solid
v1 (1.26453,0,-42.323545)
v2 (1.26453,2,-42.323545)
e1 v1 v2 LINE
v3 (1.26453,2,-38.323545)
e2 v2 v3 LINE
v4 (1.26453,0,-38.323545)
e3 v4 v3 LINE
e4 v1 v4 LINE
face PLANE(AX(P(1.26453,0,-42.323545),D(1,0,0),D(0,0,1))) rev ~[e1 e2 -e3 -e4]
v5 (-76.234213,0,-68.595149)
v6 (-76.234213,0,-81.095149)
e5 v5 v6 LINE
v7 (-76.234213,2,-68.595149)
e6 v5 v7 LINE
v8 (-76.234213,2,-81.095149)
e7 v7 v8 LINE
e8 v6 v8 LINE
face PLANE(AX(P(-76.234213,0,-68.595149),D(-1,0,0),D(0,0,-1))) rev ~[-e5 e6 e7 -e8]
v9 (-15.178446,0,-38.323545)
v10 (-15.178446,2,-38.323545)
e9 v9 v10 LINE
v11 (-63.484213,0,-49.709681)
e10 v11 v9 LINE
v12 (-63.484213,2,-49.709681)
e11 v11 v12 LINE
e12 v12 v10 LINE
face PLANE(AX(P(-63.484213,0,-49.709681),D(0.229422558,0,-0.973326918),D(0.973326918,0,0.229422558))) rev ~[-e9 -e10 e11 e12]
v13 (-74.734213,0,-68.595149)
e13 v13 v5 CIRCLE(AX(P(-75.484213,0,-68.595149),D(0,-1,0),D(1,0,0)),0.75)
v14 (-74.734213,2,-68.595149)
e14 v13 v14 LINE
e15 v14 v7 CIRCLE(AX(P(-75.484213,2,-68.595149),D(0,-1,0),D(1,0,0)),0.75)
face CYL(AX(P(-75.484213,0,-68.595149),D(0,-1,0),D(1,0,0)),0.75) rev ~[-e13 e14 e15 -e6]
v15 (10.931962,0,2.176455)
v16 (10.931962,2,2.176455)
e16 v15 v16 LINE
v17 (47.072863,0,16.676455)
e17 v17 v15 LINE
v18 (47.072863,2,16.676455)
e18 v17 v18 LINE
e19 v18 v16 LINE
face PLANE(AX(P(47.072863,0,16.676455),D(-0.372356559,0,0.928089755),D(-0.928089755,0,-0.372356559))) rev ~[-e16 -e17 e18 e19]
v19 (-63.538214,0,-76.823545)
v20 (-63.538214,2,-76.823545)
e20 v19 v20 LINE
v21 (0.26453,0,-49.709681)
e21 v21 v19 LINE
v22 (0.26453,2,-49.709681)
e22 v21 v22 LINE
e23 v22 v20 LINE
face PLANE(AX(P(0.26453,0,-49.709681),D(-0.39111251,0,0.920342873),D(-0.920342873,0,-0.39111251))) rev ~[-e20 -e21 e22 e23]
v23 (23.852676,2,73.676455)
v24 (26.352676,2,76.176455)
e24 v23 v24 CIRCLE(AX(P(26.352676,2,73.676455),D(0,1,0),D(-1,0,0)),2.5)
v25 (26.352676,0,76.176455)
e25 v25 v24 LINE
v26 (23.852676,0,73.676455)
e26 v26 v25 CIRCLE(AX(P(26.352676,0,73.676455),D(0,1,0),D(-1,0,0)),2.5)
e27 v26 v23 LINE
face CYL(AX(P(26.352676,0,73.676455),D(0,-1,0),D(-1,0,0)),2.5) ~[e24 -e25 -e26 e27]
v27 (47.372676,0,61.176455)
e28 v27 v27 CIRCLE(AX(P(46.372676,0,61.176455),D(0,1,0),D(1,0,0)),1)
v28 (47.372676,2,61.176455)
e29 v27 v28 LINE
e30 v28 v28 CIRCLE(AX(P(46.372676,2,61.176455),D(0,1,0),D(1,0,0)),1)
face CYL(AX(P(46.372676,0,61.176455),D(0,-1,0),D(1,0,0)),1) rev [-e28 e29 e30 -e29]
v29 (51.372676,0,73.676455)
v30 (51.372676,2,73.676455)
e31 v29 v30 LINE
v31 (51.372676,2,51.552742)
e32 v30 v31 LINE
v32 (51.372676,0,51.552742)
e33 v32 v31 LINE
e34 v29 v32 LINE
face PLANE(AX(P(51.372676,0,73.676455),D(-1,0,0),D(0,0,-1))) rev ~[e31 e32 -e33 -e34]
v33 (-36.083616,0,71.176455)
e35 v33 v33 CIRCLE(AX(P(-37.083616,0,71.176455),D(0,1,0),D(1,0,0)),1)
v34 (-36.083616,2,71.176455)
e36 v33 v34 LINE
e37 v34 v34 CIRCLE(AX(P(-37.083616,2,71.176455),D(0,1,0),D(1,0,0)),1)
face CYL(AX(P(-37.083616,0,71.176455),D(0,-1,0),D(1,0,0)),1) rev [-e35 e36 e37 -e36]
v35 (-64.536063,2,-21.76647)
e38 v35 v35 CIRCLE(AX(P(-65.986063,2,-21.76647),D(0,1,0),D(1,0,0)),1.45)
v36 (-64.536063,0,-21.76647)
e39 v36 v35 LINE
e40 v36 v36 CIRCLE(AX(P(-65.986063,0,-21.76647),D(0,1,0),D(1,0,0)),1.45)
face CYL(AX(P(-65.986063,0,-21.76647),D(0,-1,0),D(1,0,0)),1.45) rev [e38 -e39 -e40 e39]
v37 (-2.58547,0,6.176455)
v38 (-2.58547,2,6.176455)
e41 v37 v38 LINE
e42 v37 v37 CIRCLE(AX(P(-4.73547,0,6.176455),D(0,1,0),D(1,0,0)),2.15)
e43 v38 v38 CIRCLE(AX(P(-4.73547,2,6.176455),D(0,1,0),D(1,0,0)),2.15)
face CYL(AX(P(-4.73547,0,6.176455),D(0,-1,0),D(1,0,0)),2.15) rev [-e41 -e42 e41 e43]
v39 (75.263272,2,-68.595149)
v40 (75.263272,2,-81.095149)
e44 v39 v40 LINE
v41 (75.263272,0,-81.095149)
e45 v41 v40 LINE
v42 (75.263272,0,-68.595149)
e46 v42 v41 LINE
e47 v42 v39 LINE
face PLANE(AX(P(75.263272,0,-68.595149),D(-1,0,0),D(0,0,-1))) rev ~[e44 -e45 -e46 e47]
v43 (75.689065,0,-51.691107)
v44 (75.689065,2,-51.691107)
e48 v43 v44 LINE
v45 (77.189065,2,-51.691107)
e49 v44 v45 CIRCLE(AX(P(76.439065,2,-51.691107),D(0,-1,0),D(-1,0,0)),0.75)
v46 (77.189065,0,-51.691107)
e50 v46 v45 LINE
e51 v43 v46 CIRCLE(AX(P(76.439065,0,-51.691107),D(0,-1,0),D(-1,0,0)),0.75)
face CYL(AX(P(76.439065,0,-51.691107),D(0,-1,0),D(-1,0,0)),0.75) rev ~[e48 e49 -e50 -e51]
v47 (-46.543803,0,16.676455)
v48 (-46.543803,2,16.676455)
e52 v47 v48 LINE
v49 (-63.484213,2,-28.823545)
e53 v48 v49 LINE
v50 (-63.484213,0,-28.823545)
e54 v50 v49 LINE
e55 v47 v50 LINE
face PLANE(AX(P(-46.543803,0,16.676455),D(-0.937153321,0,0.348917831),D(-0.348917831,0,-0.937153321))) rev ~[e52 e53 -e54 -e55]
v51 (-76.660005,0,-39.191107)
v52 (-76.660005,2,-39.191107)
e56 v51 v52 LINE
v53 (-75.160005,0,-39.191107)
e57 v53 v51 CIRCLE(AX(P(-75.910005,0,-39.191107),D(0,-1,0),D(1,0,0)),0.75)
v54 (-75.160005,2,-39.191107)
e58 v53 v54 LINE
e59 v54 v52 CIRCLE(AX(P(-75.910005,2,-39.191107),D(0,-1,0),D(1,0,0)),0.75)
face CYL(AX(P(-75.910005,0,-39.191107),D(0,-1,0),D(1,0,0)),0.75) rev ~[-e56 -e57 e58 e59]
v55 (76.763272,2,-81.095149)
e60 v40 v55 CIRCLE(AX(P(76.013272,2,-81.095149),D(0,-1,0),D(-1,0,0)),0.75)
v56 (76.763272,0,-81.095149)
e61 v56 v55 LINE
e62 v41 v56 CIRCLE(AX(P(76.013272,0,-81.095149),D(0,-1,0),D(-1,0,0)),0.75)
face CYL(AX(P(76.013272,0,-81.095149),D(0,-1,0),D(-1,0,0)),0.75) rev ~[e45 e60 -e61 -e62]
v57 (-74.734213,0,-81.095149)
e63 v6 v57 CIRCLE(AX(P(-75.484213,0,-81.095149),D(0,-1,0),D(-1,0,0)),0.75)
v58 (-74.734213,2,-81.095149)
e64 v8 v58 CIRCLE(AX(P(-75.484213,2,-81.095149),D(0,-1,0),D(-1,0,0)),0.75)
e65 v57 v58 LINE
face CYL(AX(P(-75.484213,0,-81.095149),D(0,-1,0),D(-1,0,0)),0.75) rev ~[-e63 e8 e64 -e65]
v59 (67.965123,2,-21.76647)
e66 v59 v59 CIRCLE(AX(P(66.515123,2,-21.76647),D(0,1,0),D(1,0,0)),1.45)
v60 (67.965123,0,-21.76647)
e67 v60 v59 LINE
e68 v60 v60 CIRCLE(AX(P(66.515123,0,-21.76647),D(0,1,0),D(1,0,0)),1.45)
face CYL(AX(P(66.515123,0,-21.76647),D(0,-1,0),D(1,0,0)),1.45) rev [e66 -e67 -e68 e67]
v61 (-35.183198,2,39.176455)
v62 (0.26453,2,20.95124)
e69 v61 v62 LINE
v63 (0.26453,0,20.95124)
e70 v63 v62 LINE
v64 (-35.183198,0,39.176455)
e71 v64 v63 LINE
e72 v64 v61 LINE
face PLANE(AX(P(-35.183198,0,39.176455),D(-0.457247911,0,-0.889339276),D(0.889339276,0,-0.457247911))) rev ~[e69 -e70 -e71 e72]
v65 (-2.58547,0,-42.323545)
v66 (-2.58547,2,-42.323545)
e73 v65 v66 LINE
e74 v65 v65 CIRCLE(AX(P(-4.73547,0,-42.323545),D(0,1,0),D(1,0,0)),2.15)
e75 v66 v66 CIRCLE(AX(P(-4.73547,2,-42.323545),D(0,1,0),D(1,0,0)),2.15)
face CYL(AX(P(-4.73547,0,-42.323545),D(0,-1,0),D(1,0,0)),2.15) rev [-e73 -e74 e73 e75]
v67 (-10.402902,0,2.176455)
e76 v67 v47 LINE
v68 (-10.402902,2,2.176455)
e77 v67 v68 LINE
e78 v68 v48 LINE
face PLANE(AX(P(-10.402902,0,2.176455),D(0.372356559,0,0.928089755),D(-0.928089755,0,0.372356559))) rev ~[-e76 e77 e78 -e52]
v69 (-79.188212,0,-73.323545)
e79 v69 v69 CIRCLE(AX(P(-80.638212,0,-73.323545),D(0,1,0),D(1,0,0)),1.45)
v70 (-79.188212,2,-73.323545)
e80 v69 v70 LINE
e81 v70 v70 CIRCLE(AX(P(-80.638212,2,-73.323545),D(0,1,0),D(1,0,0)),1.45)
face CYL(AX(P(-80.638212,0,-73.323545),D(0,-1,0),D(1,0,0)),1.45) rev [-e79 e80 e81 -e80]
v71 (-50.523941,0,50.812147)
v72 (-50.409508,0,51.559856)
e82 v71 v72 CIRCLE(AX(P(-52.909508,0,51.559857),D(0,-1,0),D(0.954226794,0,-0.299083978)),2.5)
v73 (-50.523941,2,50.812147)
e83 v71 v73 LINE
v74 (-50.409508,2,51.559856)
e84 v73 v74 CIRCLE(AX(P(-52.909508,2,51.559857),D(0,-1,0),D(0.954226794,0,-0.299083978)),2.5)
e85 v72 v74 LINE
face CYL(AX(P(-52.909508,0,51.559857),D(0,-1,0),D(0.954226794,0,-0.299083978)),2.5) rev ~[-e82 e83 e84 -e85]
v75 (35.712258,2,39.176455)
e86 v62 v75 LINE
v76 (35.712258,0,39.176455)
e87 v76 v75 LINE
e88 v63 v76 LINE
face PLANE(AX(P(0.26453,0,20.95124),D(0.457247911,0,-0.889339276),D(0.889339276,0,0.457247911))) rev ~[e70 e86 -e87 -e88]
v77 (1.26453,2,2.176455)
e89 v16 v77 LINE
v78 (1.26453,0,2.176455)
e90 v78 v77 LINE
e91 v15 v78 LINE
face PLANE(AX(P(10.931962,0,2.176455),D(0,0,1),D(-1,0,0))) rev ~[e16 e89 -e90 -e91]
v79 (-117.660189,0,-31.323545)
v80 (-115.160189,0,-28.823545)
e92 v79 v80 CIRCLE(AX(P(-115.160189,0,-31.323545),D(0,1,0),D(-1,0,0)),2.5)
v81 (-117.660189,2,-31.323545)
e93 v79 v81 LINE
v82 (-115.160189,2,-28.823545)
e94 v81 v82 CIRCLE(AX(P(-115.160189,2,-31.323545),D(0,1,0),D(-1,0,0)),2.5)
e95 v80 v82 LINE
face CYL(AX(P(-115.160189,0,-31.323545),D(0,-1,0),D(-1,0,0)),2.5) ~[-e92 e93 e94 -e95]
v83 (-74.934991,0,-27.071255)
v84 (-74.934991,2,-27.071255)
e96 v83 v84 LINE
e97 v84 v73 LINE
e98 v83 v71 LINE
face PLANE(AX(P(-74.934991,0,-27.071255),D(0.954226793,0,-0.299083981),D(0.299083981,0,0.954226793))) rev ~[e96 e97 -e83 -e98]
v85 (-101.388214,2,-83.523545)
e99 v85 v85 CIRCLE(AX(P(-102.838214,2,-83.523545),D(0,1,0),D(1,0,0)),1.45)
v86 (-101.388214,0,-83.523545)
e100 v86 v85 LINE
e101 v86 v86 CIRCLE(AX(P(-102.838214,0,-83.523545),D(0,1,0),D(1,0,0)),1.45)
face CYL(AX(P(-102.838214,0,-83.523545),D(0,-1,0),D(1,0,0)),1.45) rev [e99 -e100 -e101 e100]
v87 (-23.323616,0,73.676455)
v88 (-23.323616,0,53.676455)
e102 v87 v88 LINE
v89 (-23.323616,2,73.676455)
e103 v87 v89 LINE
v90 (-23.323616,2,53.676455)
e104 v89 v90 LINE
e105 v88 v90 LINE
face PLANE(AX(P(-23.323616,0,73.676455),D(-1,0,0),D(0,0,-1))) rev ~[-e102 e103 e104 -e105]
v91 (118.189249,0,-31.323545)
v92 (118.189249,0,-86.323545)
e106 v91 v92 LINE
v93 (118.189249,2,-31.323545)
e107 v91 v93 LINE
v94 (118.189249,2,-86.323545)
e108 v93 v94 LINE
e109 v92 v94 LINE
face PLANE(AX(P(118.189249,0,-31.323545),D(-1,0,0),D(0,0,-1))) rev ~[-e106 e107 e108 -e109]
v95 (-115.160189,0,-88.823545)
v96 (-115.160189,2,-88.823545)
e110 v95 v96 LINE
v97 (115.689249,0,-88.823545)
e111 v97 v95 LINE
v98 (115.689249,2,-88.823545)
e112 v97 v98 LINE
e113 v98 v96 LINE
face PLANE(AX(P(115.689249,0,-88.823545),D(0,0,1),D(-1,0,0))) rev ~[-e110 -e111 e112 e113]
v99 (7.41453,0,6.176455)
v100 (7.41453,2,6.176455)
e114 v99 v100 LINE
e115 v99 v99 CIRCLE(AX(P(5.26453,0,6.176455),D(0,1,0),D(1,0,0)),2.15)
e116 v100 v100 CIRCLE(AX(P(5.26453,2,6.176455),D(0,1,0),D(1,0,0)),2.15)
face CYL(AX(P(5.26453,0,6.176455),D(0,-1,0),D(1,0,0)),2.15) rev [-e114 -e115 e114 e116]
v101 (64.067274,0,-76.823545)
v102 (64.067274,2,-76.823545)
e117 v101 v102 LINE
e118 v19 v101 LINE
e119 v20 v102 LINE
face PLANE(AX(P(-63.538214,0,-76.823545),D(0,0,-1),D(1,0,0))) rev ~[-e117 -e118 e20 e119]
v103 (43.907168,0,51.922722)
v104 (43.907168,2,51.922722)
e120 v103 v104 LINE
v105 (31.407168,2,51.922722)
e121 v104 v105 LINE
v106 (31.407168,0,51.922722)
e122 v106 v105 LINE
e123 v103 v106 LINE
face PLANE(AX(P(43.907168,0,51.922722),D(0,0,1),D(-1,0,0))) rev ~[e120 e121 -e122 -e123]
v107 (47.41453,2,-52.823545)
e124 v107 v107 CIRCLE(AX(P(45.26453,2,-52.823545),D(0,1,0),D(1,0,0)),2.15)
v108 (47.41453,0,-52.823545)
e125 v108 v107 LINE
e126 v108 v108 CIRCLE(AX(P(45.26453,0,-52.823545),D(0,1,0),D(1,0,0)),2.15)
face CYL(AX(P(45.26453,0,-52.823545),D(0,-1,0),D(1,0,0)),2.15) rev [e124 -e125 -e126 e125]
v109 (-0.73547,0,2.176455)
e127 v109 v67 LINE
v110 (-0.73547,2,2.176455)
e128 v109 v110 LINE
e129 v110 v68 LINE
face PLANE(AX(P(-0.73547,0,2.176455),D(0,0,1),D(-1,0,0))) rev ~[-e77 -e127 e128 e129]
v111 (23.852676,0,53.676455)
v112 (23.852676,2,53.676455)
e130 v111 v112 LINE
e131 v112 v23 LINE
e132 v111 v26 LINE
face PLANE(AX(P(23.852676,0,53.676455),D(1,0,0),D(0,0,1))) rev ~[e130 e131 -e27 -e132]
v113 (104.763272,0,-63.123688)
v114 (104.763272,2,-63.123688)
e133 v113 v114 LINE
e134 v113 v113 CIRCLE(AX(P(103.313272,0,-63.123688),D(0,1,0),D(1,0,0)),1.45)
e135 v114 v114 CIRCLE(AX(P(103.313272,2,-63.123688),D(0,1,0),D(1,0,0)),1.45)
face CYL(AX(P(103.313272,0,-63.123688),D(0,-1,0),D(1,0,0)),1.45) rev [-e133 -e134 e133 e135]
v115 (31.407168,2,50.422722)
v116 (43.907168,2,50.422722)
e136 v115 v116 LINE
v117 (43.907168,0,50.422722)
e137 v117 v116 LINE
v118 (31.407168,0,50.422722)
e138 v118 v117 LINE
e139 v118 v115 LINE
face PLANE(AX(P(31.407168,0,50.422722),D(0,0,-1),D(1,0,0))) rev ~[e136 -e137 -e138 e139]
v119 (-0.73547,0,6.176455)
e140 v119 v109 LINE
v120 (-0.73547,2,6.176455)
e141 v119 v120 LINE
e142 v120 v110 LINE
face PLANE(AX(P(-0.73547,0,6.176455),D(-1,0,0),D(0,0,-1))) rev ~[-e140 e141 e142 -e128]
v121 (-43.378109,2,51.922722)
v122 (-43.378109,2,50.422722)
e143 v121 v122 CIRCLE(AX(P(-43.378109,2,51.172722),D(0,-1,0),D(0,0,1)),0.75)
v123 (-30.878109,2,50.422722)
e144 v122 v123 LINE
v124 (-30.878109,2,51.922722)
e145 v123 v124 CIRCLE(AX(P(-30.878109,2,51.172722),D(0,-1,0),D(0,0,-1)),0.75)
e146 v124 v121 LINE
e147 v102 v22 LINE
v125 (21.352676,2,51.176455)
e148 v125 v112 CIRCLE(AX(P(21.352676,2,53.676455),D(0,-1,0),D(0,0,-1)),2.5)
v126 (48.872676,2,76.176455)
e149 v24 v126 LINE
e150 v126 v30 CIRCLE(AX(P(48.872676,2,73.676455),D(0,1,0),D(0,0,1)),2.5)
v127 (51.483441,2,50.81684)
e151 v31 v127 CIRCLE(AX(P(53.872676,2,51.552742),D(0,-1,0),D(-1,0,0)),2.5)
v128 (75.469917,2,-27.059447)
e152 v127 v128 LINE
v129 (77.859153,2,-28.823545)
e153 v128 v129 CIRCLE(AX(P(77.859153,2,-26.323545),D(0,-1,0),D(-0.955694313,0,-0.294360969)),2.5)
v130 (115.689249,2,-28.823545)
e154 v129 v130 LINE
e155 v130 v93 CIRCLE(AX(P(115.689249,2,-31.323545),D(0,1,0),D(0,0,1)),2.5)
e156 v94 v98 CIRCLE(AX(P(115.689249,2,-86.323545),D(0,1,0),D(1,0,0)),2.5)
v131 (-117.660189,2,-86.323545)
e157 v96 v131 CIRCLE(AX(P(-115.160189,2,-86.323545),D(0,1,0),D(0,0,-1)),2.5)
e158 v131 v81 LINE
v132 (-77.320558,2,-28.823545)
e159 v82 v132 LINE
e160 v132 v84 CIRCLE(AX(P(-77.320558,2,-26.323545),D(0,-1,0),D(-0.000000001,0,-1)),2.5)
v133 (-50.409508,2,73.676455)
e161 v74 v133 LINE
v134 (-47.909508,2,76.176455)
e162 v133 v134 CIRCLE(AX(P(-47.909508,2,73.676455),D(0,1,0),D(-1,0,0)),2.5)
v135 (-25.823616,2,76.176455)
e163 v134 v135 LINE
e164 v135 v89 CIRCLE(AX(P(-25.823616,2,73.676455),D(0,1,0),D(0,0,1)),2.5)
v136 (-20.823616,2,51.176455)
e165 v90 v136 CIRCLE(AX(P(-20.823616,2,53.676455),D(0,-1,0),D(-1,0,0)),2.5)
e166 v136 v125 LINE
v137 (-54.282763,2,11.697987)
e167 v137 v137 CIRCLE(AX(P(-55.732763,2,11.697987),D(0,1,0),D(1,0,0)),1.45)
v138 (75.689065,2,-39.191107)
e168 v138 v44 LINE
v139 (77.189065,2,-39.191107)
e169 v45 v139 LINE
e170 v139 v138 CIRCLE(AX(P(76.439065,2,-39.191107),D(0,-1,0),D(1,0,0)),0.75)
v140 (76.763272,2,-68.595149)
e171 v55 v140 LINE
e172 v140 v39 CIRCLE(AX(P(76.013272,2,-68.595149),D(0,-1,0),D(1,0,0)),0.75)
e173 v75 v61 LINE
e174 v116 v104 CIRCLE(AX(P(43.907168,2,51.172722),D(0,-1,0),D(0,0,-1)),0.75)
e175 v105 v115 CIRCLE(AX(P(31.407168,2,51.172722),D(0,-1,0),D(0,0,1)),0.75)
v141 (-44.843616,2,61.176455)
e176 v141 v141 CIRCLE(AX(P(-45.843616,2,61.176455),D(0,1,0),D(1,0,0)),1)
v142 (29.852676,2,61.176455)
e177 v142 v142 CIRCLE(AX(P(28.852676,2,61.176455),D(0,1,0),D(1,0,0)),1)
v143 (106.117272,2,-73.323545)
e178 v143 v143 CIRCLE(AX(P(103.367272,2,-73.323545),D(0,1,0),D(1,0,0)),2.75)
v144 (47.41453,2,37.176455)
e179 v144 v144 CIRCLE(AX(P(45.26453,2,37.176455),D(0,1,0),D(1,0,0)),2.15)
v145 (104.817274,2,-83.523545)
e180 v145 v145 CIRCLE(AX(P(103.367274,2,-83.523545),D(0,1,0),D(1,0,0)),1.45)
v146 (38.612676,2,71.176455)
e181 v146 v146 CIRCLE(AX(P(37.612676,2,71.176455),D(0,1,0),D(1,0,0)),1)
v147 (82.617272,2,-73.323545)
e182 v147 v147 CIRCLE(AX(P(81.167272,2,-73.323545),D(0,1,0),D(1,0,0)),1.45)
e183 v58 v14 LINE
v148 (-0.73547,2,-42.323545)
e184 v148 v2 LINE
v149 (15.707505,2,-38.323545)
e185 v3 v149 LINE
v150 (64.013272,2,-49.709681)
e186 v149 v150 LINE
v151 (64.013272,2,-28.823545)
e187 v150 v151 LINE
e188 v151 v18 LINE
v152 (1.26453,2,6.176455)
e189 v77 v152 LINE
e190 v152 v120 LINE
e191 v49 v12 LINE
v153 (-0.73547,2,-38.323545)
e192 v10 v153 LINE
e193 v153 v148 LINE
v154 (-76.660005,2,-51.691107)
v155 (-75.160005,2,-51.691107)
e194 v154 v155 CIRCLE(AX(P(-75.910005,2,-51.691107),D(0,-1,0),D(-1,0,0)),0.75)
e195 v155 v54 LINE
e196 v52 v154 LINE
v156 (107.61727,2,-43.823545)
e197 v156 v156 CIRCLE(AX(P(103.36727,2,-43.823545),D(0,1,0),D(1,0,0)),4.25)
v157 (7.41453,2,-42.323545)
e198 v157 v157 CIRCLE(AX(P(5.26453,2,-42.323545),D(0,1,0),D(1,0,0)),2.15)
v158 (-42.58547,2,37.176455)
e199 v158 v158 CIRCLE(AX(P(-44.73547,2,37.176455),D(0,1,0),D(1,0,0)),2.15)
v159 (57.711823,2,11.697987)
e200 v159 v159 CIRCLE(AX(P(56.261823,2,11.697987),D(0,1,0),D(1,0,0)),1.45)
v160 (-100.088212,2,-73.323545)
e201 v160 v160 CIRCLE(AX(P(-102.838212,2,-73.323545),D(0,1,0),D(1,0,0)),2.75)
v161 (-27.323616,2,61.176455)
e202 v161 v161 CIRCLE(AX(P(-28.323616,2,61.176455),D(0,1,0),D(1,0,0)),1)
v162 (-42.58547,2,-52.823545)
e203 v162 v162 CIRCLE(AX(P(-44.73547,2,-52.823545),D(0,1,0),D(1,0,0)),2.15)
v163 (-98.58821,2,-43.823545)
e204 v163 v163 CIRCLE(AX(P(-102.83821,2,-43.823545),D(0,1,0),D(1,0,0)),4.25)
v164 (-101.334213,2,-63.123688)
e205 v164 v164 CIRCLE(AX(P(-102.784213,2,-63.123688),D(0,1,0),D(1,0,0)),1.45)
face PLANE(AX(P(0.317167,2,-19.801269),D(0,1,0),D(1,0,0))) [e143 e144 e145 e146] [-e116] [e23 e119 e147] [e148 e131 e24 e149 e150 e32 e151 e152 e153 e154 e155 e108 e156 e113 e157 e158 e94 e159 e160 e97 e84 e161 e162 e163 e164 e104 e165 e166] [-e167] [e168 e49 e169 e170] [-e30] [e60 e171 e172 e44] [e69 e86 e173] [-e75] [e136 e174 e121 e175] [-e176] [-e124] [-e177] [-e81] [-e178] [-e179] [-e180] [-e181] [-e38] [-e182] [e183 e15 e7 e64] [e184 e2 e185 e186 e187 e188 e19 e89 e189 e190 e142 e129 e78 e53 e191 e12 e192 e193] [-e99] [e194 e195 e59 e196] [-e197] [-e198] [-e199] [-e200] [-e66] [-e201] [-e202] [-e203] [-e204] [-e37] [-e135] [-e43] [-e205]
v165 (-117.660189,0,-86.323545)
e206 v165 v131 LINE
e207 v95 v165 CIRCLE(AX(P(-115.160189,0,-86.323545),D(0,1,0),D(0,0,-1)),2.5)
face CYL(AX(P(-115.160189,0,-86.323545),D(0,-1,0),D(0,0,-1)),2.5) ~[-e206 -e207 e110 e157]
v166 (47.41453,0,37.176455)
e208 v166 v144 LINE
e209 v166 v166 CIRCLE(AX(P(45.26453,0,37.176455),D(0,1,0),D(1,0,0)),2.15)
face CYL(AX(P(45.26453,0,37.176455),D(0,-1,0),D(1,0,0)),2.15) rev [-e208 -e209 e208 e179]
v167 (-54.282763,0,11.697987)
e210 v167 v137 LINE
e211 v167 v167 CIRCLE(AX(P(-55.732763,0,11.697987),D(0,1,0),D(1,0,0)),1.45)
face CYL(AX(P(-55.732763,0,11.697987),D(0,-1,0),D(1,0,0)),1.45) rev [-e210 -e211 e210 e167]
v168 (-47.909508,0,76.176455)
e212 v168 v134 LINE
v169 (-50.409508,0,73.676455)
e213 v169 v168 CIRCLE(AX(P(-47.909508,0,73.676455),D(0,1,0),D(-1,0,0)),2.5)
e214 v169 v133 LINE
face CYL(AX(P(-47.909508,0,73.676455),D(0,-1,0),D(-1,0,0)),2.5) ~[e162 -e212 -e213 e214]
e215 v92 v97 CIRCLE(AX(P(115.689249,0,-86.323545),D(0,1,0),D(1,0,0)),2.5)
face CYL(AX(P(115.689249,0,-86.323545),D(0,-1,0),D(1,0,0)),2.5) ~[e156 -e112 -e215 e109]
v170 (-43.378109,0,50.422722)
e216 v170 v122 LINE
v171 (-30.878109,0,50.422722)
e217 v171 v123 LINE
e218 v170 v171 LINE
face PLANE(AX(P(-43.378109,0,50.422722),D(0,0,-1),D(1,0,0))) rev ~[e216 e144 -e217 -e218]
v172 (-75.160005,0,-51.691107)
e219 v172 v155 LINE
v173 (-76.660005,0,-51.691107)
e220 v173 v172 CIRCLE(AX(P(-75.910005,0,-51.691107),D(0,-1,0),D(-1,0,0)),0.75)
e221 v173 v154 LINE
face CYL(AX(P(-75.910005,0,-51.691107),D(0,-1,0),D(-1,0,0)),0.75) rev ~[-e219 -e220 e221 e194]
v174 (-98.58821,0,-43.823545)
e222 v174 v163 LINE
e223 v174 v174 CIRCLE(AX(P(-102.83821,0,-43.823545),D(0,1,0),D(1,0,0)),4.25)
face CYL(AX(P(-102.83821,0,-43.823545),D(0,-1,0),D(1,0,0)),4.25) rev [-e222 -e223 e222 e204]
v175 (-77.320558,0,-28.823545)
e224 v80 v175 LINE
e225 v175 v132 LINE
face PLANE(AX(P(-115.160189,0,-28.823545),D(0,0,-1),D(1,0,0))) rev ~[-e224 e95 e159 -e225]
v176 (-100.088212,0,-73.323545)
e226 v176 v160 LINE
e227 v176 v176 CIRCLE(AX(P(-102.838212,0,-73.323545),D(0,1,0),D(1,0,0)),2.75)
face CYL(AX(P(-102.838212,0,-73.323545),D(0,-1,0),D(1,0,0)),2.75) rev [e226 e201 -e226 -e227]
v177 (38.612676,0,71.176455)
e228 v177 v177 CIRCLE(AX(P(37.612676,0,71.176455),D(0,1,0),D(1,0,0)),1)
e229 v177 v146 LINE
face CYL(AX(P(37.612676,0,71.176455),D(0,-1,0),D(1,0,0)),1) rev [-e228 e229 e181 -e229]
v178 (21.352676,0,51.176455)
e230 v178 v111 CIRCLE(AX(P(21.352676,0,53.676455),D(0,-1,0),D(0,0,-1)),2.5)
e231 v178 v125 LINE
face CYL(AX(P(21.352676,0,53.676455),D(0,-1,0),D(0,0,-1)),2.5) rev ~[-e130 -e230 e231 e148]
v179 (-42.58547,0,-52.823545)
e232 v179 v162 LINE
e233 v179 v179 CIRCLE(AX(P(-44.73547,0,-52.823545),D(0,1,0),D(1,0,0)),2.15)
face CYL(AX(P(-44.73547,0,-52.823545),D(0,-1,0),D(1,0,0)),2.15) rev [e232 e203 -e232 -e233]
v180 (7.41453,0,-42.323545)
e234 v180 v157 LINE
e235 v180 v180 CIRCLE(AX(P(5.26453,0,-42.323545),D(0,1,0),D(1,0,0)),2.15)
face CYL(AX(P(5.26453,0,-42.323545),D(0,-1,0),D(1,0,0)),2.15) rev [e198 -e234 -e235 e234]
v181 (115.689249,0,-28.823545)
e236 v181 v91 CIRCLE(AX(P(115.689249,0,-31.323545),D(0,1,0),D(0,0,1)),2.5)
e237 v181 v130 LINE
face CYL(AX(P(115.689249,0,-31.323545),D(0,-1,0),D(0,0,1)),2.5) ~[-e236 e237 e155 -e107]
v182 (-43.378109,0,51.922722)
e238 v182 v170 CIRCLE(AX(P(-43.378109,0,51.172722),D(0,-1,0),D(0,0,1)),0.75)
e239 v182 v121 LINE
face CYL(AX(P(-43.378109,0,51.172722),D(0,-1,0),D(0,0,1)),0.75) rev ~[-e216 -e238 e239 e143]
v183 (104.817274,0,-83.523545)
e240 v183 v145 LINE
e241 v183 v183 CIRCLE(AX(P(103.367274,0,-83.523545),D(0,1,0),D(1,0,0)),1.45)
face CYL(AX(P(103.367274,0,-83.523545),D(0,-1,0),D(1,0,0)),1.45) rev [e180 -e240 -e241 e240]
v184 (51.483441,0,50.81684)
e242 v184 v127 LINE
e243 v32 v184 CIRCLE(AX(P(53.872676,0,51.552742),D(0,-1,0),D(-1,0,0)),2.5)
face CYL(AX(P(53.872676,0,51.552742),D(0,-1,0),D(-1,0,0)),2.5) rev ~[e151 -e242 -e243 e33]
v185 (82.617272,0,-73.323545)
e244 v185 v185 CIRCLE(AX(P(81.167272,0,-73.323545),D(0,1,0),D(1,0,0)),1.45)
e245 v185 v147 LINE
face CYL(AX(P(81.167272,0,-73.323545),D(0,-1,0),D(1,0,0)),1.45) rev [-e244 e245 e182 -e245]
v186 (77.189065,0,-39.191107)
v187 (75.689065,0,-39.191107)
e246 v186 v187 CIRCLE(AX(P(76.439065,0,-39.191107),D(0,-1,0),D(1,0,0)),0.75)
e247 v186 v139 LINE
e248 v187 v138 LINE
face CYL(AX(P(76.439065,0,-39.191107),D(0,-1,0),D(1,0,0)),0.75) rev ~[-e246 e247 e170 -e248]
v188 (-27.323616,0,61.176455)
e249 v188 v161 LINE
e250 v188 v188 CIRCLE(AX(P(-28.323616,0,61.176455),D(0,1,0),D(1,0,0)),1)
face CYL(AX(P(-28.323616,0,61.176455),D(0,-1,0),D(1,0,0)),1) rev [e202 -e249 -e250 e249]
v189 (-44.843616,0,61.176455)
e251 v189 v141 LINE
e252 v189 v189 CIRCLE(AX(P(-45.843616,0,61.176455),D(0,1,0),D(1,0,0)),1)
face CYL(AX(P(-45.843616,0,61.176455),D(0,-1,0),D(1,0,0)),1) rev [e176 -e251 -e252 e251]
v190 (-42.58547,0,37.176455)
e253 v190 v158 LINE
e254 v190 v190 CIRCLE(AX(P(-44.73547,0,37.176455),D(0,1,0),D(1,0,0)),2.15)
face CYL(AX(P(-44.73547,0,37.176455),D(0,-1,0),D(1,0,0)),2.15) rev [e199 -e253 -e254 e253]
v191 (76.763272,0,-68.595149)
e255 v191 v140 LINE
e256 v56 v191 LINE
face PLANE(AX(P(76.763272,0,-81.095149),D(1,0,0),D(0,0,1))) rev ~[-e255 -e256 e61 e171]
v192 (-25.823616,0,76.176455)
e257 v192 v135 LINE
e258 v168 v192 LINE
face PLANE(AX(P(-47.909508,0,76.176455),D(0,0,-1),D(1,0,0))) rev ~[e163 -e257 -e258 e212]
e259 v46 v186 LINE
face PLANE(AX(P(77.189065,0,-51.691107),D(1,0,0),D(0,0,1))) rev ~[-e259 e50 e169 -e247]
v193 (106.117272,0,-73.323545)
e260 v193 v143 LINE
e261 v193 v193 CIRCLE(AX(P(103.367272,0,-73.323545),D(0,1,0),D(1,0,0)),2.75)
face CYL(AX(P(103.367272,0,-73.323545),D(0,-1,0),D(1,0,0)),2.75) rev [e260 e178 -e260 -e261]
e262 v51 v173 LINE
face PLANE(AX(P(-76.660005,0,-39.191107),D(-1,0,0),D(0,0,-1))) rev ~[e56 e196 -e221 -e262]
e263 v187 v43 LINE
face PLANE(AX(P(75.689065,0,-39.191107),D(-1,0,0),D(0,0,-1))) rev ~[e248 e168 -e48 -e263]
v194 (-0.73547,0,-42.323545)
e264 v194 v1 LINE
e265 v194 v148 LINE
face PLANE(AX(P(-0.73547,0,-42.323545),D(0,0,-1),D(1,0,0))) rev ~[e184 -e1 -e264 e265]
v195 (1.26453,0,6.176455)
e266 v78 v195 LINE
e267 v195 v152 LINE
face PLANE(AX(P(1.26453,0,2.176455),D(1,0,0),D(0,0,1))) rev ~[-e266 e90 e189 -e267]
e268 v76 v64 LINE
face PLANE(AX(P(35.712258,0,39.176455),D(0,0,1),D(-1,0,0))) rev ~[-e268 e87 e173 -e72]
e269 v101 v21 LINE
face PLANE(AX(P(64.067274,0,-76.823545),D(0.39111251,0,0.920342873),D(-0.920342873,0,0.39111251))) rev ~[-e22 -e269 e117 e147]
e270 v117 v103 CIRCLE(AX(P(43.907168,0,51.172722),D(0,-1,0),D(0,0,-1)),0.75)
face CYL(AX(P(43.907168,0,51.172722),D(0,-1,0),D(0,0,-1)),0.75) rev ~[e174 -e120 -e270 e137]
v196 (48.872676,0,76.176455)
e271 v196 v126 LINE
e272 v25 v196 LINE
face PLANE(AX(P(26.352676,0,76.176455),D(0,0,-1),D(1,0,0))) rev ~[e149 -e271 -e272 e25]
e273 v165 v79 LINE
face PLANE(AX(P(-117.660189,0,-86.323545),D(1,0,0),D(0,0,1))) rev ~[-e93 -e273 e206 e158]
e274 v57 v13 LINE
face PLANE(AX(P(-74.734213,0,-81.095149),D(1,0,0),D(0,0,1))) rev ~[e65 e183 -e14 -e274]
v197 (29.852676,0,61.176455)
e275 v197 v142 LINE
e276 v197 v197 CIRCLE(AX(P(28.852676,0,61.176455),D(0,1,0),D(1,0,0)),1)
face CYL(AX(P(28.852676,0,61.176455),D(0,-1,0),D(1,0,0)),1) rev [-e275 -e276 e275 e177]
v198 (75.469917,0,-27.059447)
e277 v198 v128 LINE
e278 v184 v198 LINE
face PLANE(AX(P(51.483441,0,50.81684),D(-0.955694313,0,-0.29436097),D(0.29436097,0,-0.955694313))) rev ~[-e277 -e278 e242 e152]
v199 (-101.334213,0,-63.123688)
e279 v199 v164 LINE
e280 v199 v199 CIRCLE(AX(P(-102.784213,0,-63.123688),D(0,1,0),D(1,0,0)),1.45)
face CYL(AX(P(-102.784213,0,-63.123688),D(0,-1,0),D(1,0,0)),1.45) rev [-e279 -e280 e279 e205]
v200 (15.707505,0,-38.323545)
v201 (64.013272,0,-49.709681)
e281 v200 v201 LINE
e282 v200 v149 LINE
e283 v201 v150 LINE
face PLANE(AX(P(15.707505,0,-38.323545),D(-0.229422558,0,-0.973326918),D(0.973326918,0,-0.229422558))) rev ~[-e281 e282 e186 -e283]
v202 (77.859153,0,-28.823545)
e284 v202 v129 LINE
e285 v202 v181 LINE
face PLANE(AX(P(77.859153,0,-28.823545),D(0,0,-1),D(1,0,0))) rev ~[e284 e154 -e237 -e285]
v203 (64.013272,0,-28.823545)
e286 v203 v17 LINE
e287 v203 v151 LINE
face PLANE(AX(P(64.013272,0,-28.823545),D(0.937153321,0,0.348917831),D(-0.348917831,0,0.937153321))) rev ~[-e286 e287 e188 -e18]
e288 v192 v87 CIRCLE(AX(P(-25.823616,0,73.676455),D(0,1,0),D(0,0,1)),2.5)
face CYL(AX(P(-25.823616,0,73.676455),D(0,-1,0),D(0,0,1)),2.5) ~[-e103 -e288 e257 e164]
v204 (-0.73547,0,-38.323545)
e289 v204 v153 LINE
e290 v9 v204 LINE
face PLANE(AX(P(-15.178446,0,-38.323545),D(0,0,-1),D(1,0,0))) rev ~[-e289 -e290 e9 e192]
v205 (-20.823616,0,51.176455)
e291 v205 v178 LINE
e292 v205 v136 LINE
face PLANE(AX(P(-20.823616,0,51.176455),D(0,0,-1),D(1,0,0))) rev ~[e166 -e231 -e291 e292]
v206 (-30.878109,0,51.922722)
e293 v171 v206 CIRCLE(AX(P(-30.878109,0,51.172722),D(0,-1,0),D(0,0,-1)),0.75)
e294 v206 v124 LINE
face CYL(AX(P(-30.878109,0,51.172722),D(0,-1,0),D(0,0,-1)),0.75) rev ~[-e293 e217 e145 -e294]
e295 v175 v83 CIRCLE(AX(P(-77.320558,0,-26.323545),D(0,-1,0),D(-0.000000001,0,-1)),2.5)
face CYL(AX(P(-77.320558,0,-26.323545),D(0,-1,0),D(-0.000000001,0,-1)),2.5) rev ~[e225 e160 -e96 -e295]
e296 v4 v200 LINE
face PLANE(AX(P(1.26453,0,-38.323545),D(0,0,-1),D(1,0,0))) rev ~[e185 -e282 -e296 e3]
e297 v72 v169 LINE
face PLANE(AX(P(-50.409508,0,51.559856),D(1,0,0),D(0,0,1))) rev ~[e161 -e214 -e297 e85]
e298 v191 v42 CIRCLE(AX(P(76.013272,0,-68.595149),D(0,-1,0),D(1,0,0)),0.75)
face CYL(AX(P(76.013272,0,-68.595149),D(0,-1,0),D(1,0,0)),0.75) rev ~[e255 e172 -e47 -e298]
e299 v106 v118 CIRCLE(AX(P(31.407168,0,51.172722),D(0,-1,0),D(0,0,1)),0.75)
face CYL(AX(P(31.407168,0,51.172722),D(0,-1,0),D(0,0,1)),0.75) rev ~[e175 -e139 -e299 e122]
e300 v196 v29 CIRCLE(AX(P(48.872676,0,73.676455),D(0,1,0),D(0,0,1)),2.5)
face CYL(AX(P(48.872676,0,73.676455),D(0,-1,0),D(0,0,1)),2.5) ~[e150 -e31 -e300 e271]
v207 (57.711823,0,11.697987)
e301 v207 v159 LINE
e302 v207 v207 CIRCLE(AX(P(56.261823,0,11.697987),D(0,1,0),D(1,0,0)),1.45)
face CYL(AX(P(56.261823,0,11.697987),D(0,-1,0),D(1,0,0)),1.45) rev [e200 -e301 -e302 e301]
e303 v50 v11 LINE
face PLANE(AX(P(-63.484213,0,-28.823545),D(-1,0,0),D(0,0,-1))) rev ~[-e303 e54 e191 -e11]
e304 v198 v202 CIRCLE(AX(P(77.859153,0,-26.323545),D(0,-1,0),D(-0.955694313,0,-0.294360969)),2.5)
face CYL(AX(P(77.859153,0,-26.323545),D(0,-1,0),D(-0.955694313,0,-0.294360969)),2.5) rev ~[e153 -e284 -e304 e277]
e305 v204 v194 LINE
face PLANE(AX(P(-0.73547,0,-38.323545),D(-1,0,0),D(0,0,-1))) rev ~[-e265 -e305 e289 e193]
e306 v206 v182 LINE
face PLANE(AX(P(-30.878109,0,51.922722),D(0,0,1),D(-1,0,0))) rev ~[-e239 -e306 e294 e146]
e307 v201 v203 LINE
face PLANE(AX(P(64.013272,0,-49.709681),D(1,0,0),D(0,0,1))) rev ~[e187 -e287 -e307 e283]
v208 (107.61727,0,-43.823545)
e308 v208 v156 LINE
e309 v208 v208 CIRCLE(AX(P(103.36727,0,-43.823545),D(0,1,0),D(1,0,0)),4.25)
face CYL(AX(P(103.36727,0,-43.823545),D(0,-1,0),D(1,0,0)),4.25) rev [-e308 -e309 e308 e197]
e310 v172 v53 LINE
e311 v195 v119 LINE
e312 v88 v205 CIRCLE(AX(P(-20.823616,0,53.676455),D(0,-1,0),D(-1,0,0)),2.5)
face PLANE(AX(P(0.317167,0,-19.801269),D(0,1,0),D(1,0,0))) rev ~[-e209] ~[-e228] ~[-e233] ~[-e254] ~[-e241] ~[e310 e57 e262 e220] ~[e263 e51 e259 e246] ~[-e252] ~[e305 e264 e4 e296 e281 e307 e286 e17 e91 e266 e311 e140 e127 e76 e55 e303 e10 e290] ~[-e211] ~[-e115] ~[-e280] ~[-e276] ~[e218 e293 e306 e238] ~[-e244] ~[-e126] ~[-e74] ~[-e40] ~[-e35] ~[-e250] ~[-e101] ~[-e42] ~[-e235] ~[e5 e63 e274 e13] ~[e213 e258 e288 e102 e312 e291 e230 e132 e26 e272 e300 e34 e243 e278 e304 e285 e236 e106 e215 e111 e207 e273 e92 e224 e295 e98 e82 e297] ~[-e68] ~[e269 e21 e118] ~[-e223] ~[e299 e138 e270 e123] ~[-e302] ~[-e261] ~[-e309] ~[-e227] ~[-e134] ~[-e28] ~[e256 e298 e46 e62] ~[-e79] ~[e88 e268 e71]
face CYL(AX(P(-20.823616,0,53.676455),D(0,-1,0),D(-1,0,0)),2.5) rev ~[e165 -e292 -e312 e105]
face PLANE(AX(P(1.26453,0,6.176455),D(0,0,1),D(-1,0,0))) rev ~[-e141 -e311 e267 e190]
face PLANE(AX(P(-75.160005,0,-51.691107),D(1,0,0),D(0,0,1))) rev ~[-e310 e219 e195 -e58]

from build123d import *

# Parameters (mm, degrees)
SKETCH26_R          = 1
SKETCH26_R_2        = 2.15
SKETCH26_R_3        = 1.45
SKETCH26_R_4        = 4.25
SKETCH26_R_5        = 2.75
BOSS_EXTRUDE4_DEPTH = 2


with BuildPart() as part:
    # Sketch26 → Boss-Extrude4 (new body)
    with BuildSketch(Plane(origin=(0, 0, 0), x_dir=(1, 0, 0), z_dir=(0, 1, 0))):
        with BuildLine():
            Line((-20.823616498, -51.176455051), (21.352676296, -51.176455051))
            ThreePointArc((21.352676296, -51.176455051), (23.120443249, -51.908688098), (23.852676296, -53.676455051))
            Line((23.852676296, -53.676455051), (23.852676296, -73.676455051))
            ThreePointArc((23.852676296, -73.676455051), (24.584909343, -75.444222004), (26.352676296, -76.176455051))
            Line((26.352676296, -76.176455051), (48.872676296, -76.176455051))
            ThreePointArc((48.872676296, -76.176455051), (50.640443249, -75.444222004), (51.372676296, -73.676455051))
            Line((51.372676296, -73.676455051), (51.372676296, -51.552742091))
            ThreePointArc((51.372676296, -51.552742091), (51.400522432, -51.180646307), (51.483440514, -50.816839667))
            Line((51.483440514, -50.816839667), (75.469917209, 27.059447373))
            ThreePointArc((75.469917209, 27.059447373), (76.374187682, 28.334733163), (77.859152991, 28.823544949))
            Line((77.859152991, 28.823544949), (115.689249226, 28.823544949))
            ThreePointArc((115.689249226, 28.823544949), (117.457016179, 29.555777996), (118.189249226, 31.323544949))
            Line((118.189249226, 31.323544949), (118.189249226, 86.323544949))
            ThreePointArc((118.189249226, 86.323544949), (117.457016179, 88.091311902), (115.689249226, 88.823544949))
            Line((115.689249226, 88.823544949), (76.013272408, 88.823544949))
            Line((76.013272408, 88.823544949), (-75.48421261, 88.823544949))
            Line((-75.48421261, 88.823544949), (-76.032763958, 88.823544949))
            Line((-76.032763958, 88.823544949), (-115.160189428, 88.823544949))
            ThreePointArc((-115.160189428, 88.823544949), (-116.927956381, 88.091311902), (-117.660189428, 86.323544949))
            Line((-117.660189428, 86.323544949), (-117.660189428, 31.323544949))
            ThreePointArc((-117.660189428, 31.323544949), (-116.927956381, 29.555777996), (-115.160189428, 28.823544949))
            Line((-115.160189428, 28.823544949), (-77.320558078, 28.823544949))
            ThreePointArc((-77.320558078, 28.823544949), (-75.840570727, 28.338399148), (-74.934991096, 27.071254903))
            Line((-74.934991096, 27.071254903), (-50.523941264, -50.812146542))
            ThreePointArc((-50.523941264, -50.812146542), (-50.438282088, -51.18164852), (-50.409508246, -51.559856495))
            Line((-50.409508246, -51.559856495), (-50.409508246, -73.676455051))
            ThreePointArc((-50.409508246, -73.676455051), (-49.677275199, -75.444222004), (-47.909508246, -76.176455051))
            Line((-47.909508246, -76.176455051), (-25.823616498, -76.176455051))
            ThreePointArc((-25.823616498, -76.176455051), (-24.055849545, -75.444222004), (-23.323616498, -73.676455051))
            Line((-23.323616498, -73.676455051), (-23.323616498, -53.676455051))
            ThreePointArc((-23.323616498, -53.676455051), (-22.591383451, -51.908688098), (-20.823616498, -51.176455051))
        make_face()
        with Locations((-37.083616498, -71.176455051)):
            Circle(SKETCH26_R, mode=Mode.SUBTRACT)
        with Locations((-45.843616498, -61.176455051)):
            Circle(SKETCH26_R, mode=Mode.SUBTRACT)
        with Locations((-28.323616498, -61.176455051)):
            Circle(SKETCH26_R, mode=Mode.SUBTRACT)
        with BuildLine():
            Line((-43.378108588, -50.422722318), (-30.878108588, -50.422722318))
            ThreePointArc((-30.878108588, -50.422722318), (-30.128108588, -51.172722318), (-30.878108588, -51.922722318))
            Line((-30.878108588, -51.922722318), (-43.378108588, -51.922722318))
            ThreePointArc((-43.378108588, -51.922722318), (-44.128108588, -51.172722318), (-43.378108588, -50.422722318))
        make_face(mode=Mode.SUBTRACT)
        with Locations((-44.735470101, -37.176455051)):
            Circle(SKETCH26_R_2, mode=Mode.SUBTRACT)
        with Locations((-55.732763009, -11.697986619)):
            Circle(SKETCH26_R_3, mode=Mode.SUBTRACT)
        with Locations((-4.735470101, -6.176455051)):
            Circle(SKETCH26_R_2, mode=Mode.SUBTRACT)
        with Locations((28.852676296, -61.176455051)):
            Circle(SKETCH26_R, mode=Mode.SUBTRACT)
        with Locations((37.612676296, -71.176455051)):
            Circle(SKETCH26_R, mode=Mode.SUBTRACT)
        with Locations((46.372676296, -61.176455051)):
            Circle(SKETCH26_R, mode=Mode.SUBTRACT)
        with BuildLine():
            ThreePointArc((31.407168386, -51.922722318), (30.657168386, -51.172722318), (31.407168386, -50.422722318))
            Line((31.407168386, -50.422722318), (43.907168386, -50.422722318))
            ThreePointArc((43.907168386, -50.422722318), (44.657168386, -51.172722318), (43.907168386, -51.922722318))
            Line((43.907168386, -51.922722318), (31.407168386, -51.922722318))
        make_face(mode=Mode.SUBTRACT)
        with Locations((45.264529899, -37.176455051)):
            Circle(SKETCH26_R_2, mode=Mode.SUBTRACT)
        Polygon((35.712257561, -39.176455051), (-35.183197763, -39.176455051), (0.264529899, -20.951240159), align=None, mode=Mode.SUBTRACT)
        with Locations((5.264529899, -6.176455051)):
            Circle(SKETCH26_R_2, mode=Mode.SUBTRACT)
        with Locations((56.261822807, -11.697986619)):
            Circle(SKETCH26_R_3, mode=Mode.SUBTRACT)
        with Locations((-65.98606306, 21.76646972)):
            Circle(SKETCH26_R_3, mode=Mode.SUBTRACT)
        with Locations((-102.838209752, 43.823544949)):
            Circle(SKETCH26_R_4, mode=Mode.SUBTRACT)
        with BuildLine():
            ThreePointArc((-75.160005035, 39.191107079), (-75.910005035, 38.441107079), (-76.660005035, 39.191107079))
            Line((-76.660005035, 39.191107079), (-76.660005035, 51.691107079))
            ThreePointArc((-76.660005035, 51.691107079), (-75.910005035, 52.441107079), (-75.160005035, 51.691107079))
            Line((-75.160005035, 51.691107079), (-75.160005035, 39.191107079))
        make_face(mode=Mode.SUBTRACT)
        with Locations((-4.735470101, 42.323544949)):
            Circle(SKETCH26_R_2, mode=Mode.SUBTRACT)
        with Locations((-102.78421261, 63.123687889)):
            Circle(SKETCH26_R_3, mode=Mode.SUBTRACT)
        with Locations((-102.838212164, 73.323544949)):
            Circle(SKETCH26_R_5, mode=Mode.SUBTRACT)
        with Locations((-102.838214468, 83.523544949)):
            Circle(SKETCH26_R_3, mode=Mode.SUBTRACT)
        with Locations((-80.638212164, 73.323544949)):
            Circle(SKETCH26_R_3, mode=Mode.SUBTRACT)
        with BuildLine():
            ThreePointArc((-76.23421261, 81.095149015), (-75.48421261, 81.845149015), (-74.73421261, 81.095149015))
            Line((-74.73421261, 81.095149015), (-74.73421261, 68.595149015))
            ThreePointArc((-74.73421261, 68.595149015), (-75.48421261, 67.845149015), (-76.23421261, 68.595149015))
            Line((-76.23421261, 68.595149015), (-76.23421261, 81.095149015))
        make_face(mode=Mode.SUBTRACT)
        with Locations((-44.735470101, 52.823544949)):
            Circle(SKETCH26_R_2, mode=Mode.SUBTRACT)
        Polygon((-10.402901984, -2.176455051), (-46.543802783, -16.676455051), (-63.48421261, 28.823544949), (-63.48421261, 49.70968094), (-15.178445609, 38.323544949), (-0.735470101, 38.323544949), (-0.735470101, 42.323544949), (1.264529899, 42.323544949), (1.264529899, 38.323544949), (15.707505407, 38.323544949), (64.013272408, 49.70968094), (64.013272408, 28.823544949), (47.072862581, -16.676455051), (10.931961782, -2.176455051), (1.264529899, -2.176455051), (1.264529899, -6.176455051), (-0.735470101, -6.176455051), (-0.735470101, -2.176455051), align=None, mode=Mode.SUBTRACT)
        with Locations((5.264529899, 42.323544949)):
            Circle(SKETCH26_R_2, mode=Mode.SUBTRACT)
        with Locations((66.515122858, 21.76646972)):
            Circle(SKETCH26_R_3, mode=Mode.SUBTRACT)
        with BuildLine():
            Line((77.189064833, 51.691107079), (77.189064833, 39.191107079))
            ThreePointArc((77.189064833, 39.191107079), (76.439064833, 38.441107079), (75.689064833, 39.191107079))
            Line((75.689064833, 39.191107079), (75.689064833, 51.691107079))
            ThreePointArc((75.689064833, 51.691107079), (76.439064833, 52.441107079), (77.189064833, 51.691107079))
        make_face(mode=Mode.SUBTRACT)
        with Locations((103.367269549, 43.823544949)):
            Circle(SKETCH26_R_4, mode=Mode.SUBTRACT)
        Polygon((0.264529899, 49.70968094), (-63.538214468, 76.823544949), (64.067274266, 76.823544949), align=None, mode=Mode.SUBTRACT)
        with Locations((45.264529899, 52.823544949)):
            Circle(SKETCH26_R_2, mode=Mode.SUBTRACT)
        with Locations((103.313272408, 63.123687889)):
            Circle(SKETCH26_R_3, mode=Mode.SUBTRACT)
        with Locations((81.167271962, 73.323544949)):
            Circle(SKETCH26_R_3, mode=Mode.SUBTRACT)
        with BuildLine():
            Line((75.263272408, 68.595149015), (75.263272408, 81.095149015))
            ThreePointArc((75.263272408, 81.095149015), (76.013272408, 81.845149015), (76.763272408, 81.095149015))
            Line((76.763272408, 81.095149015), (76.763272408, 68.595149015))
            ThreePointArc((76.763272408, 68.595149015), (76.013272408, 67.845149015), (75.263272408, 68.595149015))
        make_face(mode=Mode.SUBTRACT)
        with Locations((103.367271962, 73.323544949)):
            Circle(SKETCH26_R_5, mode=Mode.SUBTRACT)
        with Locations((103.367274266, 83.523544949)):
            Circle(SKETCH26_R_3, mode=Mode.SUBTRACT)
    extrude(amount=BOSS_EXTRUDE4_DEPTH)


solid = part.part
